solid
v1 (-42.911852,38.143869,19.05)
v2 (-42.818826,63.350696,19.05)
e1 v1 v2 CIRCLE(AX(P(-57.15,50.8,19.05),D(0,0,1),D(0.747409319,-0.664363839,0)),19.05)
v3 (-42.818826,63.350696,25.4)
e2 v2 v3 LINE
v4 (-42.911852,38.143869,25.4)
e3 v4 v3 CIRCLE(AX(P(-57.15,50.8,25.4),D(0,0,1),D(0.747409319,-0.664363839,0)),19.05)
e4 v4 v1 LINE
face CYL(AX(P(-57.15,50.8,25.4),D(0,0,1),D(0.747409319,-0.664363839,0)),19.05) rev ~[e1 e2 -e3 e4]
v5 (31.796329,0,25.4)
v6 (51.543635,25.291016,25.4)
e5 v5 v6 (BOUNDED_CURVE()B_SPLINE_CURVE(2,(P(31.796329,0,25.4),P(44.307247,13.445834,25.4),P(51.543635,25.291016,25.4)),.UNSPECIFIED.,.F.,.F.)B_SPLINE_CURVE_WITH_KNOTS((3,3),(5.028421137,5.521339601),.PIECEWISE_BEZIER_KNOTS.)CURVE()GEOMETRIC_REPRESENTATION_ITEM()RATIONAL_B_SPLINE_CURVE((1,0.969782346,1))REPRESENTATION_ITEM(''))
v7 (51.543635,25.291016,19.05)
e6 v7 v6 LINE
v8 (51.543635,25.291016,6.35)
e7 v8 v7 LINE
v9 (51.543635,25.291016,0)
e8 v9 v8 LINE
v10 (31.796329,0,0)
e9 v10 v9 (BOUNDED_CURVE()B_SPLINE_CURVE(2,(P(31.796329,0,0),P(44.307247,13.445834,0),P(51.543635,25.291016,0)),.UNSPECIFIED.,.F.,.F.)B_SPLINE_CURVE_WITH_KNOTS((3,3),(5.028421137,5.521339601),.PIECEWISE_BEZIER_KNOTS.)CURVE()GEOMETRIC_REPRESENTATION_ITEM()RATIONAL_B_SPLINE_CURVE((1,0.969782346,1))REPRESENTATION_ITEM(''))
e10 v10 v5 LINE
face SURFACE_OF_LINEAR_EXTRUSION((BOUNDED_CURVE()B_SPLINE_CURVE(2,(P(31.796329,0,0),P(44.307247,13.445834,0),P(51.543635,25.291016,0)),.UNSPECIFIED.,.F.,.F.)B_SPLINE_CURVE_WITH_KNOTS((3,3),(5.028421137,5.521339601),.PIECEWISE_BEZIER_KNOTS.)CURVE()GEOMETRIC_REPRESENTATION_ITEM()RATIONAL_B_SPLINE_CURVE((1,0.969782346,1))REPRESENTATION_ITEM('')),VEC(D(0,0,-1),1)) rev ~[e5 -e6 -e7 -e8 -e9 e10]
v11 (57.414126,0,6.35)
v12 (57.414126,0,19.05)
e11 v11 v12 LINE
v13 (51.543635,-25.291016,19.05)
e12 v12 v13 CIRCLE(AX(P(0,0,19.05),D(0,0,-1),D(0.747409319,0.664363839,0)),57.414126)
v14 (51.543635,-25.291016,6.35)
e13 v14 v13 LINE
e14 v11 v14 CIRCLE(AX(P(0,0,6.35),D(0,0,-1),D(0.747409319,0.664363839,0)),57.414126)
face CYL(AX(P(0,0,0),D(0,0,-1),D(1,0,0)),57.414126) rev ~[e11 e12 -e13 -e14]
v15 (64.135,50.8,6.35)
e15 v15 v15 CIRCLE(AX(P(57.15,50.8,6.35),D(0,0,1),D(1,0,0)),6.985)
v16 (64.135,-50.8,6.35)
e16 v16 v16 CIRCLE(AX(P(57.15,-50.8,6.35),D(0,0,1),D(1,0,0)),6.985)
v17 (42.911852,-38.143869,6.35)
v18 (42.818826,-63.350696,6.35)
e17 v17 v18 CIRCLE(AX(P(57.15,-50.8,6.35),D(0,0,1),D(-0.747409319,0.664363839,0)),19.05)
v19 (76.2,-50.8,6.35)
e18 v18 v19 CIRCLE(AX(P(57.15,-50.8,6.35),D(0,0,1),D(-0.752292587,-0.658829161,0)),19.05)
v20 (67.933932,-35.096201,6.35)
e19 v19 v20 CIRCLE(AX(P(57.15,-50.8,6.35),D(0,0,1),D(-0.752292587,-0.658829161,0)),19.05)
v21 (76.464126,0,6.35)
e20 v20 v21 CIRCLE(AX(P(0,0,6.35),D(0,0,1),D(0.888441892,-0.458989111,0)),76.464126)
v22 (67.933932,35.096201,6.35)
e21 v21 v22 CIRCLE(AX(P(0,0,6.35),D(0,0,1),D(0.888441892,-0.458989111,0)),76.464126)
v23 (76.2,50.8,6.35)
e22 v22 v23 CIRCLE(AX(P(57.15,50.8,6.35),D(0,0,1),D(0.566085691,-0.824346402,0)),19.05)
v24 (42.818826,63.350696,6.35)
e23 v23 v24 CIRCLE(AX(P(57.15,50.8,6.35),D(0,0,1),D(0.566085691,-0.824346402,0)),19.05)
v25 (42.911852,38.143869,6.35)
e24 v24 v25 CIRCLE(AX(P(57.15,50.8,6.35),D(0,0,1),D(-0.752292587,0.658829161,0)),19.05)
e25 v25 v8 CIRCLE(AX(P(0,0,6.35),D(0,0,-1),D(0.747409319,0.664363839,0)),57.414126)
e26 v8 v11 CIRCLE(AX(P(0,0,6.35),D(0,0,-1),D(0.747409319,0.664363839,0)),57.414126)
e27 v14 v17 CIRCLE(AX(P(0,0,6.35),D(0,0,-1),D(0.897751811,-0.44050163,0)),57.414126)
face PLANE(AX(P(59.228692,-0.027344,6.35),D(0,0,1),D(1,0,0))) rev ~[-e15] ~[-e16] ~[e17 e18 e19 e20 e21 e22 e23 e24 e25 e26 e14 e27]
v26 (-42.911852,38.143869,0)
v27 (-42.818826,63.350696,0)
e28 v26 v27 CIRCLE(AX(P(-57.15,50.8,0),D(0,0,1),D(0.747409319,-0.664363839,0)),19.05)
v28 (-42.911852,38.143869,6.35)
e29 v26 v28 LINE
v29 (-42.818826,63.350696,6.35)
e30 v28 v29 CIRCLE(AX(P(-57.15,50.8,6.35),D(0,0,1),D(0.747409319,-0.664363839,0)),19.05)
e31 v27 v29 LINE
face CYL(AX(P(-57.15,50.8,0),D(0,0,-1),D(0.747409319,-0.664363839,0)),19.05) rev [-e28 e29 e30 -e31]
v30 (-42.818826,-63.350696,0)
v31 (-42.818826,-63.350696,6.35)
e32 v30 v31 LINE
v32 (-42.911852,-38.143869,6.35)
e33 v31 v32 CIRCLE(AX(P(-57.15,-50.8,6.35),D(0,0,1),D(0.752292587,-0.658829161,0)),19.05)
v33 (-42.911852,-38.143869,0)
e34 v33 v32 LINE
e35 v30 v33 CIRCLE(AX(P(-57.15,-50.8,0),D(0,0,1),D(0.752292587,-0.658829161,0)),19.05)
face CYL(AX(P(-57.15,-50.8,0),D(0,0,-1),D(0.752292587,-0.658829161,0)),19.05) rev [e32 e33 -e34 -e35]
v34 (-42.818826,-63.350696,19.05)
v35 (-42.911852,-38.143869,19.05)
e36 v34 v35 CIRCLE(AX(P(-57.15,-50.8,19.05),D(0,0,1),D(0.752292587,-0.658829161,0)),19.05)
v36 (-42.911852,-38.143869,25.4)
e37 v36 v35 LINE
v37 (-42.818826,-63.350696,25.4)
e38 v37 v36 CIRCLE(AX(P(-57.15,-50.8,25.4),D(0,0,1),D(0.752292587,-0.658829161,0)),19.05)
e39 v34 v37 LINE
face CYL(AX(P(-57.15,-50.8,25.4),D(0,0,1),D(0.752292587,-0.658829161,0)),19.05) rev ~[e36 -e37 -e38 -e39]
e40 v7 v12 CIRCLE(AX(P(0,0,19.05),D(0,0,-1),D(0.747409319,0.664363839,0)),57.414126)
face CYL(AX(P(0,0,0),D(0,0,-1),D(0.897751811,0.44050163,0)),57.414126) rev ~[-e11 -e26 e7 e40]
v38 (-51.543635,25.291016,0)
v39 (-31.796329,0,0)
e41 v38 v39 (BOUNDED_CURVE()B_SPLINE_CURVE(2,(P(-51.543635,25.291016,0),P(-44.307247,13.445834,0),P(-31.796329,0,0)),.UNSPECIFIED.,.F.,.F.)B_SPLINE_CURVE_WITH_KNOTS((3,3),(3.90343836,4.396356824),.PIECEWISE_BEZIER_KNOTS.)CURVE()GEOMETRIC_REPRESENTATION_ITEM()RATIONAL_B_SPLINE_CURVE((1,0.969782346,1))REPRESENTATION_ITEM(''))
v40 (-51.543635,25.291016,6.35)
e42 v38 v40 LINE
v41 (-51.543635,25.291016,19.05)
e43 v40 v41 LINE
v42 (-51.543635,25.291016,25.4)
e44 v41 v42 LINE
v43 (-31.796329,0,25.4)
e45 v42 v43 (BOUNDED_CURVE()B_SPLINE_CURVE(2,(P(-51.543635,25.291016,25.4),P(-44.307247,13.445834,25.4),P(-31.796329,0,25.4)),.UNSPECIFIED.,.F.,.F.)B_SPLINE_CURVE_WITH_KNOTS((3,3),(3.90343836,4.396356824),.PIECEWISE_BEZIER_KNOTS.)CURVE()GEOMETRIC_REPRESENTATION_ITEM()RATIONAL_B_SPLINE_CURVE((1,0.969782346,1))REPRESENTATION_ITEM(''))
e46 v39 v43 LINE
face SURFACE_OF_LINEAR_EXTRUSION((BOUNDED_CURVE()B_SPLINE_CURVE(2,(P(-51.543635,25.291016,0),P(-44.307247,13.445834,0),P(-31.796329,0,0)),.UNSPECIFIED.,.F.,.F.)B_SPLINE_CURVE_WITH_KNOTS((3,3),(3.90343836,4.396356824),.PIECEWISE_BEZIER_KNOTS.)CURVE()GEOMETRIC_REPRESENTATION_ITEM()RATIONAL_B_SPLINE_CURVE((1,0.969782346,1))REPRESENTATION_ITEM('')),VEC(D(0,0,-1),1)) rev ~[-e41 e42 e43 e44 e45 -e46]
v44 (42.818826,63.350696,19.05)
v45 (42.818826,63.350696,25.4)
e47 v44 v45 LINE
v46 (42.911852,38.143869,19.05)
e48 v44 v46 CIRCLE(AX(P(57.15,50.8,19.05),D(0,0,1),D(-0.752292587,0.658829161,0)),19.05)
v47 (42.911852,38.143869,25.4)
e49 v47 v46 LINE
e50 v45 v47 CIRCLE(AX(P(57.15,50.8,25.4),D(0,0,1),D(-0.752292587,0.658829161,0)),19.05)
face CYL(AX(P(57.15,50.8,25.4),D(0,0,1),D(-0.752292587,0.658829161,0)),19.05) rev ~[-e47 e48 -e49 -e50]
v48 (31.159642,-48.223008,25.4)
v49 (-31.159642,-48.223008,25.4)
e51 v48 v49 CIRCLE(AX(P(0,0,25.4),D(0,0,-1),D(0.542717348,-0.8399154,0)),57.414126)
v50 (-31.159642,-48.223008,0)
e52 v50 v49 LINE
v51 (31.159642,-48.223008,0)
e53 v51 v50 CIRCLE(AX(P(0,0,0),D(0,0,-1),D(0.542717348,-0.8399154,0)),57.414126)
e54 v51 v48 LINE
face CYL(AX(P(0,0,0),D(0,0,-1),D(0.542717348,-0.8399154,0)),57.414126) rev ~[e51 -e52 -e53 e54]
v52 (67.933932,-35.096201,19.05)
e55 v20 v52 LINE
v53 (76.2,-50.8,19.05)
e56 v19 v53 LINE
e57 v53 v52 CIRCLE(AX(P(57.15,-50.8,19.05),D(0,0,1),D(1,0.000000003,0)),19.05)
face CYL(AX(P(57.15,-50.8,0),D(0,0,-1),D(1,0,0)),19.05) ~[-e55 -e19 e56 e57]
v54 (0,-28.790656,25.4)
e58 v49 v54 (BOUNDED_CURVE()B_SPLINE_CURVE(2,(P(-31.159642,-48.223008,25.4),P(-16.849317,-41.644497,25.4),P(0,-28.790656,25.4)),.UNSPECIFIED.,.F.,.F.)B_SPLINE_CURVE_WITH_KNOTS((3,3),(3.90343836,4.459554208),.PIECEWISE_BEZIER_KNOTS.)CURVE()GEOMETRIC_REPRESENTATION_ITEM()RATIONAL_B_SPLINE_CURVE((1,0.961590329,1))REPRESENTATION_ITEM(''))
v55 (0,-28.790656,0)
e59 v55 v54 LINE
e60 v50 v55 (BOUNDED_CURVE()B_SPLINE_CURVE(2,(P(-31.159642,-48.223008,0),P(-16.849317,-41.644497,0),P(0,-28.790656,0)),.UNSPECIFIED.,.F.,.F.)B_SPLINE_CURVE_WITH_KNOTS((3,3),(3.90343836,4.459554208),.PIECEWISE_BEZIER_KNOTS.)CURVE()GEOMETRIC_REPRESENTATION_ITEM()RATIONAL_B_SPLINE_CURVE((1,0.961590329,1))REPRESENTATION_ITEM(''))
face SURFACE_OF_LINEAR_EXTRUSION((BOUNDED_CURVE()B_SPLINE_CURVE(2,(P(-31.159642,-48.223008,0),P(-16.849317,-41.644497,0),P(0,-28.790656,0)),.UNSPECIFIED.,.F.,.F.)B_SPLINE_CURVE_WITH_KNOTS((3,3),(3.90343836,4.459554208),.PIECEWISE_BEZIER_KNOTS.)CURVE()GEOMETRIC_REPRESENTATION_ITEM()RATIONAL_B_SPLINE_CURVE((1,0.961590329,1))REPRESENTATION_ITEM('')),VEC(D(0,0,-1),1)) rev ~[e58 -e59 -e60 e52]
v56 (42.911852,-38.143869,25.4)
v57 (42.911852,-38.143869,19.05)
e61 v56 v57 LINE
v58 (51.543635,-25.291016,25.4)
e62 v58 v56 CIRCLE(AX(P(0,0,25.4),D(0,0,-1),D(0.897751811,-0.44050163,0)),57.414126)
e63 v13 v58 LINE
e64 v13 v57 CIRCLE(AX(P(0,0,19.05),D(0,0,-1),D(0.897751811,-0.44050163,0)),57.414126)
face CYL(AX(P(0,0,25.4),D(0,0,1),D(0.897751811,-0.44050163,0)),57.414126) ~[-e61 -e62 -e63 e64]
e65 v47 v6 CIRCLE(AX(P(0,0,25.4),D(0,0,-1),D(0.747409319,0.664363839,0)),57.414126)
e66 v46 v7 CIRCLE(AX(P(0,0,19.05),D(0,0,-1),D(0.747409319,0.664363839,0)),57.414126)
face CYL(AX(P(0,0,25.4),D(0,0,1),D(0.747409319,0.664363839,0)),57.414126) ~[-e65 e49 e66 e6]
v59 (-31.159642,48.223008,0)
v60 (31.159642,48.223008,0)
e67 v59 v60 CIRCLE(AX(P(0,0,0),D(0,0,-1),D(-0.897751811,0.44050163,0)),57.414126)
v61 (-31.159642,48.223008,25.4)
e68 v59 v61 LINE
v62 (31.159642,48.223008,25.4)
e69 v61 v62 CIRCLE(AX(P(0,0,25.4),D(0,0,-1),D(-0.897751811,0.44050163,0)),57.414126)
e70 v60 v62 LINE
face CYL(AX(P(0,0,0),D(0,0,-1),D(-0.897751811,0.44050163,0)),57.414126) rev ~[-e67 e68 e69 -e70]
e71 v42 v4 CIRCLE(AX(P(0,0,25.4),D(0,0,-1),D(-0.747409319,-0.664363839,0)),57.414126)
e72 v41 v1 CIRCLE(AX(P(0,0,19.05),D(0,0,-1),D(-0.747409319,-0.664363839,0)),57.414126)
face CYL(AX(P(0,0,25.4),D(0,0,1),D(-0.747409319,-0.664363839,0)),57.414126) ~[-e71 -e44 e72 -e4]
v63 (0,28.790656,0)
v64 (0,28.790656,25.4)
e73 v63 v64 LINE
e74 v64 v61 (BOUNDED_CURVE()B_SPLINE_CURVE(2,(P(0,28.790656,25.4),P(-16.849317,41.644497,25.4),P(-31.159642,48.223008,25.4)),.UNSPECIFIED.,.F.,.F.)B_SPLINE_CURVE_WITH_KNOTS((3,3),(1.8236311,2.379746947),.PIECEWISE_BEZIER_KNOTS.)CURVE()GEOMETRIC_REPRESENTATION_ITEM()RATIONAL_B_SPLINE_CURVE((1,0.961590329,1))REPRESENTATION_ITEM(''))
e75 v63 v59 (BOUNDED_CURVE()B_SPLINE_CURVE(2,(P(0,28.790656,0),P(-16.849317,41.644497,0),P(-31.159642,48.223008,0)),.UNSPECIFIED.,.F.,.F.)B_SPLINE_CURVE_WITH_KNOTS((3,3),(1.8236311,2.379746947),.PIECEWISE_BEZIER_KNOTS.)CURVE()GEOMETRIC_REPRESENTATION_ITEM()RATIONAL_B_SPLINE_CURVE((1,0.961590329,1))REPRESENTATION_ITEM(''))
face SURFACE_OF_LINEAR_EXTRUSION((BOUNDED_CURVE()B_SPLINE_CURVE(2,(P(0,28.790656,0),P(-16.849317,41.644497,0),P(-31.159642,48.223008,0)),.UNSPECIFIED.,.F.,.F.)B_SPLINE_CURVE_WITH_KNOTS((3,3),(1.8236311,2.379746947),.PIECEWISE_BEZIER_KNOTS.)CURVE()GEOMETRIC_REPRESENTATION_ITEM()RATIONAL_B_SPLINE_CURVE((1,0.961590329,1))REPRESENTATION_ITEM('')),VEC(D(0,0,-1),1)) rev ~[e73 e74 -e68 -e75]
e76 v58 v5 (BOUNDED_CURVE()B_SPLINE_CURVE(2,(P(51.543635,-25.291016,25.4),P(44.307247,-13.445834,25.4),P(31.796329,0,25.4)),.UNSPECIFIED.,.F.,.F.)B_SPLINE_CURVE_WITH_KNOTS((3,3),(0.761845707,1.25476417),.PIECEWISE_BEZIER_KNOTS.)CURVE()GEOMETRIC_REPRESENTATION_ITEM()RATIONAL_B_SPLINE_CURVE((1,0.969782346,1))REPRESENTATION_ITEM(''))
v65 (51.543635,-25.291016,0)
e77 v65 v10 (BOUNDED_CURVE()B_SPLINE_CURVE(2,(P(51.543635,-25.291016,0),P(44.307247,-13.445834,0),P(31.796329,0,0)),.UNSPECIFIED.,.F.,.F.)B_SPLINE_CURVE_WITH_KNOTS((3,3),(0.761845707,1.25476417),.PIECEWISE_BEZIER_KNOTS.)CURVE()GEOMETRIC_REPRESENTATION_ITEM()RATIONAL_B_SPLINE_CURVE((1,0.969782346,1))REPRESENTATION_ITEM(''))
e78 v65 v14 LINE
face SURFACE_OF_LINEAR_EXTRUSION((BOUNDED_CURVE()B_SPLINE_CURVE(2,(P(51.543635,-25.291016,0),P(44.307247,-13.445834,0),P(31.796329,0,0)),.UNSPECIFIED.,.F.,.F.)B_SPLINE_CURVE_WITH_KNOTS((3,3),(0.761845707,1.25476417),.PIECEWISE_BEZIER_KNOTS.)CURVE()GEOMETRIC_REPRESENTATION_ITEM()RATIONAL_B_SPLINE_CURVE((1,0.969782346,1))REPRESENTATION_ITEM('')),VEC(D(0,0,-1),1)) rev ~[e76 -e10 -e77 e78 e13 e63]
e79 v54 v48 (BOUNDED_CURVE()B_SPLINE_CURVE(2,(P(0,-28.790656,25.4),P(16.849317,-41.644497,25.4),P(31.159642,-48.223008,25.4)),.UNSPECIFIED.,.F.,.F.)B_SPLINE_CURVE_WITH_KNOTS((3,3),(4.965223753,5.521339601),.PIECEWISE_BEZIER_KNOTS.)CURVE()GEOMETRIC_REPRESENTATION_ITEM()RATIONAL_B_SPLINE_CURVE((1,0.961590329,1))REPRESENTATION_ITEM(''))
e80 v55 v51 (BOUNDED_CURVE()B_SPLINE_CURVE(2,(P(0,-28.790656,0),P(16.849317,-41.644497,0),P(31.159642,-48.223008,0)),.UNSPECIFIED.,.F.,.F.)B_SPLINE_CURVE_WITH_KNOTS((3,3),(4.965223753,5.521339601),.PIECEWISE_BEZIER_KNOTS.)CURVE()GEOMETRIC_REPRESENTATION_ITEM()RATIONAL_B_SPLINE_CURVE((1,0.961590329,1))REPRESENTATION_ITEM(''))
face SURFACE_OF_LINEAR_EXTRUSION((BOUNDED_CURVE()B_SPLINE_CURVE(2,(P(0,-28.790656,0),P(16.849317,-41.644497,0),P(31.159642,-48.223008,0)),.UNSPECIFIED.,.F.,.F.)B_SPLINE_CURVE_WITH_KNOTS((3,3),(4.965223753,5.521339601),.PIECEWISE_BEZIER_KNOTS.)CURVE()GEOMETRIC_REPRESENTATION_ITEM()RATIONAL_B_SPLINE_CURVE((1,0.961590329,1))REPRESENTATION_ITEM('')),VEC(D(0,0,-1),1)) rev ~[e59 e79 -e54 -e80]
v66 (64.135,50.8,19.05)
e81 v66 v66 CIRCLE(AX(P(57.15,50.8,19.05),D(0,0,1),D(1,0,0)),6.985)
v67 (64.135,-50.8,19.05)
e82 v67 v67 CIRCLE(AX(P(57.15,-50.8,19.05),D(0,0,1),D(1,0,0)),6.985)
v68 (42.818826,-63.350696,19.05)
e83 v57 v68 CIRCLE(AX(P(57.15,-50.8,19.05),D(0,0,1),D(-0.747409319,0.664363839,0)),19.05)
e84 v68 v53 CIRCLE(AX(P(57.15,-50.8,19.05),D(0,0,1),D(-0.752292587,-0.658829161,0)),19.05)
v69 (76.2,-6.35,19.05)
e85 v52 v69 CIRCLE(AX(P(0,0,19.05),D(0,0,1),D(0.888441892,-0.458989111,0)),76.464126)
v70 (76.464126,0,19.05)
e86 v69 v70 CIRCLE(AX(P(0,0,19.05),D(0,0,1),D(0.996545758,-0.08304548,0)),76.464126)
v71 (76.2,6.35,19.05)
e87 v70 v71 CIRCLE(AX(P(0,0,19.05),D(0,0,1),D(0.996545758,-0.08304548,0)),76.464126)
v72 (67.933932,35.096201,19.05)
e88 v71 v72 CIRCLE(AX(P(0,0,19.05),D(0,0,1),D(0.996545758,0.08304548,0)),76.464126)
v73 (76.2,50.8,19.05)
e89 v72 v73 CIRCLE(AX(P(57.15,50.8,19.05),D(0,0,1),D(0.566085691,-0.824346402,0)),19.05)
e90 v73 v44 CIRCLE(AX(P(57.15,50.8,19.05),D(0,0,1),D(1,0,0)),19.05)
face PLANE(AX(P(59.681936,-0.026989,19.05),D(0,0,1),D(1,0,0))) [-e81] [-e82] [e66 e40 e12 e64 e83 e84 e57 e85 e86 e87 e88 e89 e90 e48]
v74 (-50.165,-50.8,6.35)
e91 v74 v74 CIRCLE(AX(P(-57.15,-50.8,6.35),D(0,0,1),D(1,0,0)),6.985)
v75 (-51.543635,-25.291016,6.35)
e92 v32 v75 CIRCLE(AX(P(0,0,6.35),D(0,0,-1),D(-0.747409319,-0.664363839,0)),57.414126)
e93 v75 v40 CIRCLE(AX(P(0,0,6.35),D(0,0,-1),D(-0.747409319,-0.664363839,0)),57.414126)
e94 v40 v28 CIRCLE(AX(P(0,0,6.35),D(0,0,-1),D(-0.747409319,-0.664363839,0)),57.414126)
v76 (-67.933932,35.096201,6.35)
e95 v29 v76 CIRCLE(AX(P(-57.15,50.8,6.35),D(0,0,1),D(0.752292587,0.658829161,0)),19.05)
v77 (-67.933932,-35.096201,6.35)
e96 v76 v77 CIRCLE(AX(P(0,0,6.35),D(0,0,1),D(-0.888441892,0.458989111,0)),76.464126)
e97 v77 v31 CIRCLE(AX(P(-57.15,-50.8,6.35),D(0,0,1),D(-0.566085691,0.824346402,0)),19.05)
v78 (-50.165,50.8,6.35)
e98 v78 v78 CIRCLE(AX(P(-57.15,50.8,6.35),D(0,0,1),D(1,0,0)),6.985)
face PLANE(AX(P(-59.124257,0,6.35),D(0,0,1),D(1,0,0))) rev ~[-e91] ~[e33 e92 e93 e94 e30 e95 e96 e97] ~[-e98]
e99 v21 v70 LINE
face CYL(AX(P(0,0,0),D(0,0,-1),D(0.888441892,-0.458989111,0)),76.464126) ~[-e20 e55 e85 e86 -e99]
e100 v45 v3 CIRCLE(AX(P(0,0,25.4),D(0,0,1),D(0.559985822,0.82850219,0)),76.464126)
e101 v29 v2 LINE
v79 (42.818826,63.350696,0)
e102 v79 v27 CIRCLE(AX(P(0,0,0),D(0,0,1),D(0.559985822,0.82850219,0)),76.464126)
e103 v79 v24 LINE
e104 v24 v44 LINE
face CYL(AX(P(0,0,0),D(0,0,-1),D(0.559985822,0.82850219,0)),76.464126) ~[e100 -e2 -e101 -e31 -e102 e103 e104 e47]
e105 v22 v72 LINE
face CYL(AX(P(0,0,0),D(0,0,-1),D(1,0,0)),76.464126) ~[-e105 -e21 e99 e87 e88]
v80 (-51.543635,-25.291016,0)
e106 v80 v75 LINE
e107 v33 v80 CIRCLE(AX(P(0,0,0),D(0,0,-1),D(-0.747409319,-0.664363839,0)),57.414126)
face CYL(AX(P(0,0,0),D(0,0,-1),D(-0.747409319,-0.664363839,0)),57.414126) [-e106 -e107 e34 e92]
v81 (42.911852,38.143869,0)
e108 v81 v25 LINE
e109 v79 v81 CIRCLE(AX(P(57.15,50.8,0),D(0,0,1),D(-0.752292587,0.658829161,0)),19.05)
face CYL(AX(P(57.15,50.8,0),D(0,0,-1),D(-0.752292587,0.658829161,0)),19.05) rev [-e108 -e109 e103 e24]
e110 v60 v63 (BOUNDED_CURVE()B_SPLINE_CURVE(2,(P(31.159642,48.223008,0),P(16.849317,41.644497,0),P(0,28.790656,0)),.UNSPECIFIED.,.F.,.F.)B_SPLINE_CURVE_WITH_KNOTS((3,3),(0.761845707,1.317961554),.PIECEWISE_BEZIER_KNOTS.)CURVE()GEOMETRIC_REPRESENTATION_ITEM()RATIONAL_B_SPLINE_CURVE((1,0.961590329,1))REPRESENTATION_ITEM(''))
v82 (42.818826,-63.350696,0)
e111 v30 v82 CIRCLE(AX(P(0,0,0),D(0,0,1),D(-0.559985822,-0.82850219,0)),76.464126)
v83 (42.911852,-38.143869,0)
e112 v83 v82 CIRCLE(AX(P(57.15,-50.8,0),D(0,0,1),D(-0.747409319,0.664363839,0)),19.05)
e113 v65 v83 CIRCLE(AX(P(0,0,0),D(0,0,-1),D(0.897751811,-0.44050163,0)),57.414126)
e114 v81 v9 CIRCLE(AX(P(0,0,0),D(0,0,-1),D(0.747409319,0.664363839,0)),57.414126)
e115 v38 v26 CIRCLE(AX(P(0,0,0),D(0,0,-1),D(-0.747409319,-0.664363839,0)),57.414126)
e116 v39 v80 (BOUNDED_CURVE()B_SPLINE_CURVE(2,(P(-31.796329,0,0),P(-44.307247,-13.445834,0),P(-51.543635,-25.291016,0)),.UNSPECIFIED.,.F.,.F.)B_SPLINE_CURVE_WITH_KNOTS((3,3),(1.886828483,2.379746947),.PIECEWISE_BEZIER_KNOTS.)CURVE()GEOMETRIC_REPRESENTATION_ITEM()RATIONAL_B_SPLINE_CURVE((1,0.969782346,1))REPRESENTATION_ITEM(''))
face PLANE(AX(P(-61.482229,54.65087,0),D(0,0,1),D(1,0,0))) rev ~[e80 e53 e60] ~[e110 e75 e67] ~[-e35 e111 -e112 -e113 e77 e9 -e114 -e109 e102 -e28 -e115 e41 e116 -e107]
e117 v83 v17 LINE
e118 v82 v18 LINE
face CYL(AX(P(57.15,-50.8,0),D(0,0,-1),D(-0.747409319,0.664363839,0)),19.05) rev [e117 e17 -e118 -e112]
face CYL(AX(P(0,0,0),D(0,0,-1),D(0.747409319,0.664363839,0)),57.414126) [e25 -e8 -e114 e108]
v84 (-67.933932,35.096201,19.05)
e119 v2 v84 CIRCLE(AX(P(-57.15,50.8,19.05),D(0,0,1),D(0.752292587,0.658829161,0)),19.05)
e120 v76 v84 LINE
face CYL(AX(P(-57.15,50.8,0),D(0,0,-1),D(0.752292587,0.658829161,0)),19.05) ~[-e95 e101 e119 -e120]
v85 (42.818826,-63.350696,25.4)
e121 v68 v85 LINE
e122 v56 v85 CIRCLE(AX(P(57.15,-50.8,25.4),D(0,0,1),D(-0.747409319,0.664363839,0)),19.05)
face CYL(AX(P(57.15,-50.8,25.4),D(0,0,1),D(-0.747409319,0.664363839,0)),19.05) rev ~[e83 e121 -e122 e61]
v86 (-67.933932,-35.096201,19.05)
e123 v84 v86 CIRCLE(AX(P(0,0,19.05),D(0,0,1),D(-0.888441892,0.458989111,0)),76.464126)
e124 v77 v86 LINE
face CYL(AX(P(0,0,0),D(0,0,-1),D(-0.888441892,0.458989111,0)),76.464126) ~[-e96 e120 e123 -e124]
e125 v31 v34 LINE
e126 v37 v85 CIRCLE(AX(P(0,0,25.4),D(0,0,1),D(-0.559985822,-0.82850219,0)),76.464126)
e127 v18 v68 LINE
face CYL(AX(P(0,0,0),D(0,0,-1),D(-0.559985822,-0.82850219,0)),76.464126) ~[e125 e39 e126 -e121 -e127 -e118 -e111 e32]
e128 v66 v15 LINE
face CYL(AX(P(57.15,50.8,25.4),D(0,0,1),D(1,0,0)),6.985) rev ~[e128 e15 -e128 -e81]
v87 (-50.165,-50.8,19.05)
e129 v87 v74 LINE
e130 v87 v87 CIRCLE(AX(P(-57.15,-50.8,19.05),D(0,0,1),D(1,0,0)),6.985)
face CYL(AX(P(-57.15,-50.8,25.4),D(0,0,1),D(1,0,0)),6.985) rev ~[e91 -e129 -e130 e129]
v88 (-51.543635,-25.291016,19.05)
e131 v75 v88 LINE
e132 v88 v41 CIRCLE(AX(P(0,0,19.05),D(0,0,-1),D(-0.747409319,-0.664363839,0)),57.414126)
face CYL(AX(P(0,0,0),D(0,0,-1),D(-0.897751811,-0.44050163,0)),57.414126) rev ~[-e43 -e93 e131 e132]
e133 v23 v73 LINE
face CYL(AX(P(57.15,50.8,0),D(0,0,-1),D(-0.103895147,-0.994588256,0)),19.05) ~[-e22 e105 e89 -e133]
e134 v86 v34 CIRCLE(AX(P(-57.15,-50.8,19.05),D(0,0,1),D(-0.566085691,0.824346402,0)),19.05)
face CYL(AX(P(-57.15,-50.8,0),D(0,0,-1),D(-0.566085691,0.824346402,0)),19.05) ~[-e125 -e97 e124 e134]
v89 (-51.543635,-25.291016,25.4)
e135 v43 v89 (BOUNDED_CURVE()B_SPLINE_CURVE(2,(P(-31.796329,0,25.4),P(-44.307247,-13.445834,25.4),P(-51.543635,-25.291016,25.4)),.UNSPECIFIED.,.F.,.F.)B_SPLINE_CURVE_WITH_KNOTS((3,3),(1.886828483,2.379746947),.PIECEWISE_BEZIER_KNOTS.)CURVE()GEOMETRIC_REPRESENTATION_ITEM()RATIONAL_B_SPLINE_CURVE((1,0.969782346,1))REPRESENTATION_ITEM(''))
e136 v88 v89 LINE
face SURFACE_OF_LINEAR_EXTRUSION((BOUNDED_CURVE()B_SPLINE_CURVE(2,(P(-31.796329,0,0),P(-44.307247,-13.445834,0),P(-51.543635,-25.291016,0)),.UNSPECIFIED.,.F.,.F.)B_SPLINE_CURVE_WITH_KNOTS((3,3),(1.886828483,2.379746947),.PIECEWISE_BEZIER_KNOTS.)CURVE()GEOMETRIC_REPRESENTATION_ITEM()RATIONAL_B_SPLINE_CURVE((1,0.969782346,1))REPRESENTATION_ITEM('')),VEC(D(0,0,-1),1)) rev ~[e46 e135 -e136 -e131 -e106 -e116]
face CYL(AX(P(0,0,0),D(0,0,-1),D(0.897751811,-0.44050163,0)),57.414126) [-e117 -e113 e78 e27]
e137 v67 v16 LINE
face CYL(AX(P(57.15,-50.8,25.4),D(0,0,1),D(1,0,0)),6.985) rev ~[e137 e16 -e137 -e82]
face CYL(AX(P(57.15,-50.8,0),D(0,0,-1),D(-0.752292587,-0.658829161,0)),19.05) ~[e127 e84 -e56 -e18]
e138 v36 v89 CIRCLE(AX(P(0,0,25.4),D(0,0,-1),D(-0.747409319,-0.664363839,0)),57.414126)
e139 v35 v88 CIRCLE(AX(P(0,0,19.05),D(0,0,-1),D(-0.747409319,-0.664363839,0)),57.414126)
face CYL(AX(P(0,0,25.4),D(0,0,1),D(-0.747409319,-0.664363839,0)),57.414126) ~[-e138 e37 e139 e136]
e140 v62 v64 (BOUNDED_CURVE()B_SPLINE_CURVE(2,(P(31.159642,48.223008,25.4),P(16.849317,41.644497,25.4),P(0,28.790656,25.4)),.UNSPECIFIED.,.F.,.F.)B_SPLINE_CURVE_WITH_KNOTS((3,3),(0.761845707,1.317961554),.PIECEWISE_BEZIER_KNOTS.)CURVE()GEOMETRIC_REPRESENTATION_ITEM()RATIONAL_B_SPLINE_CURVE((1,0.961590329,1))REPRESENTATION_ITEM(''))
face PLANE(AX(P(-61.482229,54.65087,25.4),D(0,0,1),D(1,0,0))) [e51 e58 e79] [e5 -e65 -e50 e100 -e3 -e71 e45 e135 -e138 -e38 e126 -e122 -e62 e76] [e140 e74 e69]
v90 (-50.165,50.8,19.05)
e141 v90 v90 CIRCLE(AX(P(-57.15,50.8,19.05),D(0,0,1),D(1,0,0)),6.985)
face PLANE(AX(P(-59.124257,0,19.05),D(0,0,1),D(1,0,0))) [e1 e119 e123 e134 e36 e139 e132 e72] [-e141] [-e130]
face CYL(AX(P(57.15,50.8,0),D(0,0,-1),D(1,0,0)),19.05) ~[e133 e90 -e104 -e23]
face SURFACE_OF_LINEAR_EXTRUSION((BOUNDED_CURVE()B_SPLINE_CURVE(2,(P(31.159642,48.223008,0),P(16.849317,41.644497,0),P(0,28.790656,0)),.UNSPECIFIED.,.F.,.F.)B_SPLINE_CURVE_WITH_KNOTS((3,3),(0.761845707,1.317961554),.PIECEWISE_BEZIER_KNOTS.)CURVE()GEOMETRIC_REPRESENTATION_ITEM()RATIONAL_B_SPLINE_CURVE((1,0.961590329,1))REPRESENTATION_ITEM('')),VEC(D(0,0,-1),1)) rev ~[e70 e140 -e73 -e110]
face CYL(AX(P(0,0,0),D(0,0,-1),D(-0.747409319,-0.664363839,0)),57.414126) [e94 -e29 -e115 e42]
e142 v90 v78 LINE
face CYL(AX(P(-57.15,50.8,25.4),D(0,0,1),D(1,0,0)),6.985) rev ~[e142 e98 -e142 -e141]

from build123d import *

# Parameters (mm, degrees)
F1_DEPTH = 25.4
F2_R     = 6.985
F3_DEPTH = 25.4
F4_R     = 6.985
F5_DEPTH = 6.35
F7_DEPTH = 6.35


with BuildPart() as f1:
    # F0 (on Top) → F1 (new body)
    with BuildSketch(Plane.XY):
        with BuildLine():
            ThreePointArc((-57.1499998878, 50.8000001262), (-50.3767956165, 57.5233949226), (-42.8188262114, 63.3506955122))
            ThreePointArc((-42.8188262114, 63.3506955122), (-71.3881475209, 63.4561311297), (-67.9339324093, 35.0962010395))
            ThreePointArc((-67.9339324093, 35.0962010395), (-63.0329267619, 43.2852474156), (-57.1499998878, 50.8000001262))
        make_face()
        with BuildLine():
            ThreePointArc((38.1017176106, 51.0558085491), (39.3641043227, 57.6238123477), (42.8188262114, 63.3506955122))
            ThreePointArc((42.8188262114, 63.3506955122), (0, 76.4641255753), (-42.8188262114, 63.3506955122))
            ThreePointArc((-42.8188262114, 63.3506955122), (-39.3641043227, 57.6238123477), (-38.1017176106, 51.0558085491))
            add(Edge.make_bspline(
                [(-31.1596419842, 48.223008274), (-34.8147724634, 49.9032857332), (-38.1017176106, 51.0558085491)],
                knots=[2.3797469471, 2.3797469471, 2.3797469471, 2.5253095942, 2.5253095942, 2.5253095942], degree=2, weights=[1, 0.9973526084, 1]))
            ThreePointArc((-31.1596419842, 48.223008274), (0, 57.4141255753), (31.1596419842, 48.223008274))
            add(Edge.make_bspline(
                [(38.1017176106, 51.0558085491), (34.8147724634, 49.9032857332), (31.1596419842, 48.223008274)],
                knots=[0.6162830594, 0.6162830594, 0.6162830594, 0.7618457065, 0.7618457065, 0.7618457065], degree=2, weights=[1, 0.9973526084, 1]))
        make_face()
        with BuildLine():
            ThreePointArc((67.9339324093, 35.0962010395), (74.0072894084, 41.9267653135), (76.2, 50.8))
            ThreePointArc((76.2, 50.8), (63.8542389324, 68.6313117952), (42.8188262114, 63.3506955122))
            ThreePointArc((42.8188262114, 63.3506955122), (50.37679568, 57.523394867), (57.15, 50.8))
            ThreePointArc((57.15, 50.8), (63.0329268097, 43.285247346), (67.9339324093, 35.0962010395))
        make_face()
        with BuildLine():
            ThreePointArc((55.1707974514, 31.8530937282), (61.8415086314, 32.3367325004), (67.9339324093, 35.0962010395))
            ThreePointArc((67.9339324093, 35.0962010395), (63.0329268097, 43.285247346), (57.15, 50.8))
            add(Edge.make_bspline(
                [(55.1707974514, 31.8530937282), (61.8495524076, 45.5130035415), (57.15, 50.8)],
                knots=[5.6669022478, 5.6669022478, 5.6669022478, 6.2831853072, 6.2831853072, 6.2831853072], degree=2, weights=[1, 0.9528988673, 1]))
        make_face()
        with BuildLine():
            ThreePointArc((57.15, 50.8), (50.37679568, 57.523394867), (42.8188262114, 63.3506955122))
            ThreePointArc((42.8188262114, 63.3506955122), (39.3641043227, 57.6238123477), (38.1017176106, 51.0558085491))
            add(Edge.make_bspline(
                [(57.15, 50.8), (52.4504475924, 56.0869964585), (38.1017176106, 51.0558085491)],
                knots=[0, 0, 0, 0.6162830594, 0.6162830594, 0.6162830594], degree=2, weights=[1, 0.9528988673, 1]))
        make_face()
        with BuildLine():
            ThreePointArc((42.9118518288, 38.1438696019), (39.2984970742, 44.1497110372), (38.1017176106, 51.0558085491))
            add(Edge.make_bspline(
                [(38.1017176106, 51.0558085491), (34.8147724634, 49.9032857332), (31.1596419842, 48.223008274)],
                knots=[0.6162830594, 0.6162830594, 0.6162830594, 0.7618457065, 0.7618457065, 0.7618457065], degree=2, weights=[1, 0.9973526084, 1]))
            ThreePointArc((31.1596419842, 48.223008274), (37.3770492149, 43.5813951999), (42.9118518288, 38.1438696019))
        make_face()
        with BuildLine():
            ThreePointArc((-38.1017176106, 51.0558085491), (-39.3641043227, 57.6238123477), (-42.8188262114, 63.3506955122))
            ThreePointArc((-42.8188262114, 63.3506955122), (-50.3767956165, 57.5233949226), (-57.1499998878, 50.8000001262))
            add(Edge.make_bspline(
                [(-38.1017176106, 51.0558085491), (-52.4504474039, 56.0869963924), (-57.1499998878, 50.8000001262)],
                knots=[2.5253095942, 2.5253095942, 2.5253095942, 3.141592646, 3.141592646, 3.141592646], degree=2, weights=[1, 0.9528988685, 1]))
        make_face()
        with BuildLine():
            add(Edge.make_bspline(
                [(-31.1596419842, 48.223008274), (-34.8147724634, 49.9032857332), (-38.1017176106, 51.0558085491)],
                knots=[2.3797469471, 2.3797469471, 2.3797469471, 2.5253095942, 2.5253095942, 2.5253095942], degree=2, weights=[1, 0.9973526084, 1]))
            ThreePointArc((-38.1017176106, 51.0558085491), (-38.1004294075, 50.9279071577), (-38.1, 50.8))
            ThreePointArc((-38.1, 50.8), (-39.34355171, 44.030000052), (-42.9118529445, 38.1438683467))
            ThreePointArc((-42.9118529445, 38.1438683467), (-37.3770498523, 43.5813946532), (-31.1596419842, 48.223008274))
        make_face()
        with BuildLine():
            ThreePointArc((-38.1, 50.8), (-38.1004294075, 50.9279071577), (-38.1017176106, 51.0558085491))
            add(Edge.make_bspline(
                [(-38.1017176106, 51.0558085491), (-52.4504474039, 56.0869963924), (-57.1499998878, 50.8000001262)],
                knots=[2.5253095942, 2.5253095942, 2.5253095942, 3.141592646, 3.141592646, 3.141592646], degree=2, weights=[1, 0.9528988685, 1]))
            add(Edge.make_bspline(
                [(-57.1499998878, 50.8000001262), (-61.8495524953, 45.513003721), (-55.1707974514, 31.8530937282)],
                knots=[3.141592646, 3.141592646, 3.141592646, 3.757875713, 3.757875713, 3.757875713], degree=2, weights=[1, 0.9528988662, 1]))
            ThreePointArc((-55.1707974514, 31.8530937282), (-48.4526401494, 33.8513000018), (-42.9118529445, 38.1438683467))
            ThreePointArc((-42.9118529445, 38.1438683467), (-39.34355171, 44.030000052), (-38.1, 50.8))
        make_face()
        with BuildLine():
            ThreePointArc((-57.1499998878, 50.8000001262), (-63.0329267619, 43.2852474156), (-67.9339324093, 35.0962010395))
            ThreePointArc((-67.9339324093, 35.0962010395), (-61.8415086314, 32.3367325004), (-55.1707974514, 31.8530937282))
            add(Edge.make_bspline(
                [(-57.1499998878, 50.8000001262), (-61.8495524953, 45.513003721), (-55.1707974514, 31.8530937282)],
                knots=[3.141592646, 3.141592646, 3.141592646, 3.757875713, 3.757875713, 3.757875713], degree=2, weights=[1, 0.9528988662, 1]))
        make_face()
        with BuildLine():
            ThreePointArc((-42.9118529445, 38.1438683467), (-48.4526401494, 33.8513000018), (-55.1707974514, 31.8530937282))
            add(Edge.make_bspline(
                [(-55.1707974514, 31.8530937282), (-53.6408570859, 28.7239405328), (-51.5436352082, 25.291015897)],
                knots=[3.757875713, 3.757875713, 3.757875713, 3.9034383601, 3.9034383601, 3.9034383601], degree=2, weights=[1, 0.9973526084, 1]))
            ThreePointArc((-51.5436352082, 25.291015897), (-47.6629705806, 32.0097336917), (-42.9118529445, 38.1438683467))
        make_face()
        with BuildLine():
            ThreePointArc((-55.1707974514, 31.8530937282), (-61.8415086314, 32.3367325004), (-67.9339324093, 35.0962010395))
            ThreePointArc((-67.9339324093, 35.0962010395), (-76.4641255753, 0), (-67.9339324093, -35.0962010395))
            ThreePointArc((-67.9339324093, -35.0962010395), (-61.8415086314, -32.3367325004), (-55.1707974514, -31.8530937282))
            add(Edge.make_bspline(
                [(-51.5436352082, -25.291015897), (-53.6408570859, -28.7239405328), (-55.1707974514, -31.8530937282)],
                knots=[2.3797469471, 2.3797469471, 2.3797469471, 2.5253095942, 2.5253095942, 2.5253095942], degree=2, weights=[1, 0.9973526084, 1]))
            ThreePointArc((-51.5436352082, -25.291015897), (-57.4141255753, 0), (-51.5436352082, 25.291015897))
            add(Edge.make_bspline(
                [(-55.1707974514, 31.8530937282), (-53.6408570859, 28.7239405328), (-51.5436352082, 25.291015897)],
                knots=[3.757875713, 3.757875713, 3.757875713, 3.9034383601, 3.9034383601, 3.9034383601], degree=2, weights=[1, 0.9973526084, 1]))
        make_face()
        with BuildLine():
            ThreePointArc((-42.9118518976, -38.1438695245), (-48.4526394484, -33.8513003615), (-55.1707974514, -31.8530937282))
            add(Edge.make_bspline(
                [(-55.1707974514, -31.8530937282), (-61.8495523114, -45.5130033448), (-57.1500001229, -50.7999998618)],
                knots=[2.5253095942, 2.5253095942, 2.5253095942, 3.1415926453, 3.1415926453, 3.1415926453], degree=2, weights=[1, 0.9528988686, 1]))
            add(Edge.make_bspline(
                [(-57.1500001229, -50.7999998618), (-52.450447799, -56.0869965309), (-38.1017176106, -51.0558085491)],
                knots=[3.1415926453, 3.1415926453, 3.1415926453, 3.757875713, 3.757875713, 3.757875713], degree=2, weights=[1, 0.9528988661, 1]))
            ThreePointArc((-38.1017176106, -51.0558085491), (-38.1004294075, -50.9279071577), (-38.1, -50.8))
            ThreePointArc((-38.1, -50.8), (-39.34355143, -44.0300007885), (-42.9118518976, -38.1438695245))
        make_face()
        with BuildLine():
            ThreePointArc((-55.1707974514, -31.8530937282), (-61.8415086314, -32.3367325004), (-67.9339324093, -35.0962010395))
            ThreePointArc((-67.9339324093, -35.0962010395), (-63.032926862, -43.2852472698), (-57.1500001229, -50.7999998618))
            add(Edge.make_bspline(
                [(-55.1707974514, -31.8530937282), (-61.8495523114, -45.5130033448), (-57.1500001229, -50.7999998618)],
                knots=[2.5253095942, 2.5253095942, 2.5253095942, 3.1415926453, 3.1415926453, 3.1415926453], degree=2, weights=[1, 0.9528988686, 1]))
        make_face()
        with BuildLine():
            ThreePointArc((-57.1500001229, -50.7999998618), (-63.032926862, -43.2852472698), (-67.9339324093, -35.0962010395))
            ThreePointArc((-67.9339324093, -35.0962010395), (-71.3881475209, -63.4561311297), (-42.8188262114, -63.3506955122))
            ThreePointArc((-42.8188262114, -63.3506955122), (-50.3767957495, -57.523394806), (-57.1500001229, -50.7999998618))
        make_face()
        with BuildLine():
            ThreePointArc((-57.1500001229, -50.7999998618), (-50.3767957495, -57.523394806), (-42.8188262114, -63.3506955122))
            ThreePointArc((-42.8188262114, -63.3506955122), (-39.3641043227, -57.6238123477), (-38.1017176106, -51.0558085491))
            add(Edge.make_bspline(
                [(-57.1500001229, -50.7999998618), (-52.450447799, -56.0869965309), (-38.1017176106, -51.0558085491)],
                knots=[3.1415926453, 3.1415926453, 3.1415926453, 3.757875713, 3.757875713, 3.757875713], degree=2, weights=[1, 0.9528988661, 1]))
        make_face()
        with BuildLine():
            ThreePointArc((76.2, -50.8), (74.0072894084, -41.9267653135), (67.9339324093, -35.0962010395))
            ThreePointArc((67.9339324093, -35.0962010395), (63.0329268097, -43.285247346), (57.15, -50.8))
            ThreePointArc((57.15, -50.8), (50.37679568, -57.523394867), (42.8188262114, -63.3506955122))
            ThreePointArc((42.8188262114, -63.3506955122), (63.8542389324, -68.6313117952), (76.2, -50.8))
        make_face()
        with BuildLine():
            ThreePointArc((42.8188262114, -63.3506955122), (50.37679568, -57.523394867), (57.15, -50.8))
            add(Edge.make_bspline(
                [(38.1017176106, -51.0558085491), (52.4504475924, -56.0869964585), (57.15, -50.8)],
                knots=[5.6669022478, 5.6669022478, 5.6669022478, 6.2831853072, 6.2831853072, 6.2831853072], degree=2, weights=[1, 0.9528988673, 1]))
            ThreePointArc((38.1017176106, -51.0558085491), (39.3641043227, -57.6238123477), (42.8188262114, -63.3506955122))
        make_face()
        with BuildLine():
            add(Edge.make_bspline(
                [(57.15, -50.8), (61.8495524076, -45.5130035415), (55.1707974514, -31.8530937282)],
                knots=[0, 0, 0, 0.6162830594, 0.6162830594, 0.6162830594], degree=2, weights=[1, 0.9528988673, 1]))
            ThreePointArc((55.1707974514, -31.8530937282), (48.4526401707, -33.8512999909), (42.9118529763, -38.1438683109))
            ThreePointArc((42.9118529763, -38.1438683109), (39.2984973756, -44.1497102279), (38.1017176106, -51.0558085491))
            add(Edge.make_bspline(
                [(38.1017176106, -51.0558085491), (52.4504475924, -56.0869964585), (57.15, -50.8)],
                knots=[5.6669022478, 5.6669022478, 5.6669022478, 6.2831853072, 6.2831853072, 6.2831853072], degree=2, weights=[1, 0.9528988673, 1]))
        make_face()
        with BuildLine():
            ThreePointArc((42.9118529763, -38.1438683109), (48.4526401707, -33.8512999909), (55.1707974514, -31.8530937282))
            add(Edge.make_bspline(
                [(55.1707974514, -31.8530937282), (53.6408570859, -28.7239405328), (51.5436352082, -25.291015897)],
                knots=[0.6162830594, 0.6162830594, 0.6162830594, 0.7618457065, 0.7618457065, 0.7618457065], degree=2, weights=[1, 0.9973526084, 1]))
            ThreePointArc((51.5436352082, -25.291015897), (47.6629705939, -32.0097336719), (42.9118529763, -38.1438683109))
        make_face()
        with BuildLine():
            ThreePointArc((76.4641255753, 0), (74.3009799349, 18.0589833799), (67.9339324093, 35.0962010395))
            ThreePointArc((67.9339324093, 35.0962010395), (61.8415086314, 32.3367325004), (55.1707974514, 31.8530937282))
            add(Edge.make_bspline(
                [(51.5436352082, 25.291015897), (53.6408570859, 28.7239405328), (55.1707974514, 31.8530937282)],
                knots=[5.5213396007, 5.5213396007, 5.5213396007, 5.6669022478, 5.6669022478, 5.6669022478], degree=2, weights=[1, 0.9973526084, 1]))
            ThreePointArc((51.5436352082, 25.291015897), (55.9272498878, 12.9817000259), (57.4141255753, 0))
            ThreePointArc((57.4141255753, 0), (55.9272498878, -12.9817000259), (51.5436352082, -25.291015897))
            add(Edge.make_bspline(
                [(55.1707974514, -31.8530937282), (53.6408570859, -28.7239405328), (51.5436352082, -25.291015897)],
                knots=[0.6162830594, 0.6162830594, 0.6162830594, 0.7618457065, 0.7618457065, 0.7618457065], degree=2, weights=[1, 0.9973526084, 1]))
            ThreePointArc((55.1707974514, -31.8530937282), (61.8415086314, -32.3367325004), (67.9339324093, -35.0962010395))
            ThreePointArc((67.9339324093, -35.0962010395), (74.3009799349, -18.0589833799), (76.4641255753, 0))
        make_face()
        with BuildLine():
            ThreePointArc((57.15, -50.8), (63.0329268097, -43.285247346), (67.9339324093, -35.0962010395))
            ThreePointArc((67.9339324093, -35.0962010395), (61.8415086314, -32.3367325004), (55.1707974514, -31.8530937282))
            add(Edge.make_bspline(
                [(57.15, -50.8), (61.8495524076, -45.5130035415), (55.1707974514, -31.8530937282)],
                knots=[0, 0, 0, 0.6162830594, 0.6162830594, 0.6162830594], degree=2, weights=[1, 0.9528988673, 1]))
        make_face()
        with BuildLine():
            add(Edge.make_bspline(
                [(57.15, 50.8), (52.4504475924, 56.0869964585), (38.1017176106, 51.0558085491)],
                knots=[0, 0, 0, 0.6162830594, 0.6162830594, 0.6162830594], degree=2, weights=[1, 0.9528988673, 1]))
            ThreePointArc((38.1017176106, 51.0558085491), (39.2984970742, 44.1497110372), (42.9118518288, 38.1438696019))
            ThreePointArc((42.9118518288, 38.1438696019), (48.4526394023, 33.8513003852), (55.1707974514, 31.8530937282))
            add(Edge.make_bspline(
                [(55.1707974514, 31.8530937282), (61.8495524076, 45.5130035415), (57.15, 50.8)],
                knots=[5.6669022478, 5.6669022478, 5.6669022478, 6.2831853072, 6.2831853072, 6.2831853072], degree=2, weights=[1, 0.9528988673, 1]))
        make_face()
        with BuildLine():
            add(Edge.make_bspline(
                [(51.5436352082, 25.291015897), (53.6408570859, 28.7239405328), (55.1707974514, 31.8530937282)],
                knots=[5.5213396007, 5.5213396007, 5.5213396007, 5.6669022478, 5.6669022478, 5.6669022478], degree=2, weights=[1, 0.9973526084, 1]))
            ThreePointArc((55.1707974514, 31.8530937282), (48.4526394023, 33.8513003852), (42.9118518288, 38.1438696019))
            ThreePointArc((42.9118518288, 38.1438696019), (47.6629701124, 32.0097343888), (51.5436352082, 25.291015897))
        make_face()
        with BuildLine():
            ThreePointArc((-38.1017176106, -51.0558085491), (-39.3641043227, -57.6238123477), (-42.8188262114, -63.3506955122))
            ThreePointArc((-42.8188262114, -63.3506955122), (0, -76.4641255753), (42.8188262114, -63.3506955122))
            ThreePointArc((42.8188262114, -63.3506955122), (39.3641043227, -57.6238123477), (38.1017176106, -51.0558085491))
            add(Edge.make_bspline(
                [(31.1596419842, -48.223008274), (34.8147724634, -49.9032857332), (38.1017176106, -51.0558085491)],
                knots=[5.5213396007, 5.5213396007, 5.5213396007, 5.6669022478, 5.6669022478, 5.6669022478], degree=2, weights=[1, 0.9973526084, 1]))
            ThreePointArc((31.1596419842, -48.223008274), (0, -57.4141255753), (-31.1596419842, -48.223008274))
            add(Edge.make_bspline(
                [(-38.1017176106, -51.0558085491), (-34.8147724634, -49.9032857332), (-31.1596419842, -48.223008274)],
                knots=[3.757875713, 3.757875713, 3.757875713, 3.9034383601, 3.9034383601, 3.9034383601], degree=2, weights=[1, 0.9973526084, 1]))
        make_face()
        with BuildLine():
            ThreePointArc((38.1017176106, -51.0558085491), (39.2984973756, -44.1497102279), (42.9118529763, -38.1438683109))
            ThreePointArc((42.9118529763, -38.1438683109), (37.3770498705, -43.5813946376), (31.1596419842, -48.223008274))
            add(Edge.make_bspline(
                [(31.1596419842, -48.223008274), (34.8147724634, -49.9032857332), (38.1017176106, -51.0558085491)],
                knots=[5.5213396007, 5.5213396007, 5.5213396007, 5.6669022478, 5.6669022478, 5.6669022478], degree=2, weights=[1, 0.9973526084, 1]))
        make_face()
        with BuildLine():
            ThreePointArc((-31.1596419842, -48.223008274), (-37.3770492542, -43.5813951661), (-42.9118518976, -38.1438695245))
            ThreePointArc((-42.9118518976, -38.1438695245), (-39.34355143, -44.0300007885), (-38.1, -50.8))
            ThreePointArc((-38.1, -50.8), (-38.1004294075, -50.9279071577), (-38.1017176106, -51.0558085491))
            add(Edge.make_bspline(
                [(-38.1017176106, -51.0558085491), (-34.8147724634, -49.9032857332), (-31.1596419842, -48.223008274)],
                knots=[3.757875713, 3.757875713, 3.757875713, 3.9034383601, 3.9034383601, 3.9034383601], degree=2, weights=[1, 0.9973526084, 1]))
        make_face()
        with BuildLine():
            add(Edge.make_bspline(
                [(-51.5436352082, -25.291015897), (-53.6408570859, -28.7239405328), (-55.1707974514, -31.8530937282)],
                knots=[2.3797469471, 2.3797469471, 2.3797469471, 2.5253095942, 2.5253095942, 2.5253095942], degree=2, weights=[1, 0.9973526084, 1]))
            ThreePointArc((-55.1707974514, -31.8530937282), (-48.4526394484, -33.8513003615), (-42.9118518976, -38.1438695245))
            ThreePointArc((-42.9118518976, -38.1438695245), (-47.6629701413, -32.0097343458), (-51.5436352082, -25.291015897))
        make_face()
        with BuildLine():
            add(Edge.make_bspline(
                [(0, 28.7906564504), (-17.2570551039, 15.6257643854), (-31.7963289723, 0)],
                knots=[1.3179615541, 1.3179615541, 1.3179615541, 1.8868284832, 1.8868284832, 1.8868284832], degree=2, weights=[1, 0.9598207843, 1]))
            add(Edge.make_bspline(
                [(0, 28.7906564504), (-16.8493165476, 41.6444969454), (-31.1596419842, 48.223008274)],
                knots=[1.8236310995, 1.8236310995, 1.8236310995, 2.3797469471, 2.3797469471, 2.3797469471], degree=2, weights=[1, 0.9615903293, 1]))
            ThreePointArc((-31.1596419842, 48.223008274), (-37.3770498523, 43.5813946532), (-42.9118529445, 38.1438683467))
            ThreePointArc((-42.9118529445, 38.1438683467), (-47.6629705806, 32.0097336917), (-51.5436352082, 25.291015897))
            add(Edge.make_bspline(
                [(-51.5436352082, 25.291015897), (-44.3072469413, 13.4458335537), (-31.7963289723, 0)],
                knots=[3.9034383601, 3.9034383601, 3.9034383601, 4.3963568239, 4.3963568239, 4.3963568239], degree=2, weights=[1, 0.9697823463, 1]))
        make_face()
        with BuildLine():
            add(Edge.make_bspline(
                [(31.7963289723, 0), (17.2570551039, 15.6257643854), (0, 28.7906564504)],
                knots=[1.2547641704, 1.2547641704, 1.2547641704, 1.8236310995, 1.8236310995, 1.8236310995], degree=2, weights=[1, 0.9598207843, 1]))
            add(Edge.make_bspline(
                [(0, 28.7906564504), (-17.2570551039, 15.6257643854), (-31.7963289723, 0)],
                knots=[1.3179615541, 1.3179615541, 1.3179615541, 1.8868284832, 1.8868284832, 1.8868284832], degree=2, weights=[1, 0.9598207843, 1]))
            add(Edge.make_bspline(
                [(-31.7963289723, 0), (-17.2570551039, -15.6257643854), (0, -28.7906564504)],
                knots=[4.3963568239, 4.3963568239, 4.3963568239, 4.9652237531, 4.9652237531, 4.9652237531], degree=2, weights=[1, 0.9598207843, 1]))
            add(Edge.make_bspline(
                [(0, -28.7906564504), (17.2570551039, -15.6257643854), (31.7963289723, 0)],
                knots=[4.4595542076, 4.4595542076, 4.4595542076, 5.0284211368, 5.0284211368, 5.0284211368], degree=2, weights=[1, 0.9598207843, 1]))
        make_face()
        with BuildLine():
            add(Edge.make_bspline(
                [(51.5436352082, -25.291015897), (44.3072469413, -13.4458335537), (31.7963289723, 0)],
                knots=[0.7618457065, 0.7618457065, 0.7618457065, 1.2547641704, 1.2547641704, 1.2547641704], degree=2, weights=[1, 0.9697823463, 1]))
            add(Edge.make_bspline(
                [(0, -28.7906564504), (17.2570551039, -15.6257643854), (31.7963289723, 0)],
                knots=[4.4595542076, 4.4595542076, 4.4595542076, 5.0284211368, 5.0284211368, 5.0284211368], degree=2, weights=[1, 0.9598207843, 1]))
            add(Edge.make_bspline(
                [(0, -28.7906564504), (16.8493165476, -41.6444969454), (31.1596419842, -48.223008274)],
                knots=[4.9652237531, 4.9652237531, 4.9652237531, 5.5213396007, 5.5213396007, 5.5213396007], degree=2, weights=[1, 0.9615903293, 1]))
            ThreePointArc((31.1596419842, -48.223008274), (37.3770498705, -43.5813946376), (42.9118529763, -38.1438683109))
            ThreePointArc((42.9118529763, -38.1438683109), (47.6629705939, -32.0097336719), (51.5436352082, -25.291015897))
        make_face()
        with BuildLine():
            ThreePointArc((51.5436352082, 25.291015897), (47.6629701124, 32.0097343888), (42.9118518288, 38.1438696019))
            ThreePointArc((42.9118518288, 38.1438696019), (37.3770492149, 43.5813951999), (31.1596419842, 48.223008274))
            add(Edge.make_bspline(
                [(31.1596419842, 48.223008274), (16.8493165476, 41.6444969454), (0, 28.7906564504)],
                knots=[0.7618457065, 0.7618457065, 0.7618457065, 1.3179615541, 1.3179615541, 1.3179615541], degree=2, weights=[1, 0.9615903293, 1]))
            add(Edge.make_bspline(
                [(31.7963289723, 0), (17.2570551039, 15.6257643854), (0, 28.7906564504)],
                knots=[1.2547641704, 1.2547641704, 1.2547641704, 1.8236310995, 1.8236310995, 1.8236310995], degree=2, weights=[1, 0.9598207843, 1]))
            add(Edge.make_bspline(
                [(31.7963289723, 0), (44.3072469413, 13.4458335537), (51.5436352082, 25.291015897)],
                knots=[5.0284211368, 5.0284211368, 5.0284211368, 5.5213396007, 5.5213396007, 5.5213396007], degree=2, weights=[1, 0.9697823463, 1]))
        make_face()
        with BuildLine():
            add(Edge.make_bspline(
                [(-31.7963289723, 0), (-17.2570551039, -15.6257643854), (0, -28.7906564504)],
                knots=[4.3963568239, 4.3963568239, 4.3963568239, 4.9652237531, 4.9652237531, 4.9652237531], degree=2, weights=[1, 0.9598207843, 1]))
            add(Edge.make_bspline(
                [(-31.7963289723, 0), (-44.3072469413, -13.4458335537), (-51.5436352082, -25.291015897)],
                knots=[1.8868284832, 1.8868284832, 1.8868284832, 2.3797469471, 2.3797469471, 2.3797469471], degree=2, weights=[1, 0.9697823463, 1]))
            ThreePointArc((-51.5436352082, -25.291015897), (-47.6629701413, -32.0097343458), (-42.9118518976, -38.1438695245))
            ThreePointArc((-42.9118518976, -38.1438695245), (-37.3770492542, -43.5813951661), (-31.1596419842, -48.223008274))
            add(Edge.make_bspline(
                [(-31.1596419842, -48.223008274), (-16.8493165476, -41.6444969454), (0, -28.7906564504)],
                knots=[3.9034383601, 3.9034383601, 3.9034383601, 4.4595542076, 4.4595542076, 4.4595542076], degree=2, weights=[1, 0.9615903293, 1]))
        make_face()
    extrude(amount=F1_DEPTH)

    # F2 (on face) → F3 (cut)
    with BuildSketch(Plane.XY.offset(25.4)):
        with Locations((-57.15, 50.8)):
            Circle(F2_R)
        with Locations((-57.15, -50.8)):
            Circle(F2_R)
        with Locations((57.15, -50.8)):
            Circle(F2_R)
        with Locations((57.15, 50.8)):
            Circle(F2_R)
    extrude(amount=-F3_DEPTH, mode=Mode.SUBTRACT)

    # F4 (on face) → F5 (cut)
    with BuildSketch(Plane.XY.offset(25.4)):
        with BuildLine():
            ThreePointArc((-51.5436352082, 25.291015897), (-47.6629703853, 32.0097339825), (-42.9118524791, 38.1438688703))
            ThreePointArc((-42.9118524791, 38.1438688703), (-38.1001297285, 50.7296960956), (-42.8188262114, 63.3506955122))
            ThreePointArc((-42.8188262114, 63.3506955122), (-71.3881475209, 63.4561311297), (-67.9339324093, 35.0962010395))
            ThreePointArc((-67.9339324093, 35.0962010395), (-76.4641255753, 0), (-67.9339324093, -35.0962010395))
            ThreePointArc((-67.9339324093, -35.0962010395), (-71.3881475209, -63.4561311297), (-42.8188262114, -63.3506955122))
            ThreePointArc((-42.8188262114, -63.3506955122), (-38.1001297285, -50.7296960956), (-42.9118524791, -38.1438688703))
            ThreePointArc((-42.9118524791, -38.1438688703), (-47.6629703853, -32.0097339825), (-51.5436352082, -25.291015897))
            ThreePointArc((-51.5436352082, -25.291015897), (-57.4141255753, 0), (-51.5436352082, 25.291015897))
        make_face()
        with Locations((-57.15, -50.8)):
            Circle(F4_R, mode=Mode.SUBTRACT)
        with Locations((-57.15, 50.8)):
            Circle(F4_R, mode=Mode.SUBTRACT)
        with BuildLine():
            ThreePointArc((76.2, 50.8), (63.8542389324, 68.6313117952), (42.8188262114, 63.3506955122))
            ThreePointArc((42.8188262114, 63.3506955122), (38.1001297285, 50.7296960956), (42.9118524791, 38.1438688703))
            ThreePointArc((42.9118524791, 38.1438688703), (47.6629703853, 32.0097339825), (51.5436352082, 25.291015897))
            ThreePointArc((51.5436352082, 25.291015897), (57.4141255753, 0), (51.5436352082, -25.291015897))
            ThreePointArc((51.5436352082, -25.291015897), (47.6629703853, -32.0097339825), (42.9118524791, -38.1438688703))
            ThreePointArc((42.9118524791, -38.1438688703), (38.1001297285, -50.7296960956), (42.8188262114, -63.3506955122))
            ThreePointArc((42.8188262114, -63.3506955122), (63.854238955, -68.6313117867), (76.2, -50.7999999518))
            ThreePointArc((76.2, -50.7999999518), (74.0072893972, -41.9267652922), (67.9339324093, -35.0962010395))
            ThreePointArc((67.9339324093, -35.0962010395), (73.4862819613, -21.1312295786), (76.2, -6.35))
            Line((76.2, -6.35), (76.2, 6.35))
            ThreePointArc((76.2, 6.35), (73.4862819613, 21.1312295786), (67.9339324093, 35.0962010395))
            ThreePointArc((67.9339324093, 35.0962010395), (74.0072894084, 41.9267653135), (76.2, 50.8))
        make_face()
        with Locations((57.15, -50.8)):
            Circle(F4_R, mode=Mode.SUBTRACT)
        with Locations((57.15, 50.8)):
            Circle(F4_R, mode=Mode.SUBTRACT)
        with Locations((-57.15, 50.8)):
            Circle(F4_R)
        with Locations((-57.15, -50.8)):
            Circle(F4_R)
        with Locations((57.15, -50.8)):
            Circle(F4_R)
        with Locations((57.15, 50.8)):
            Circle(F4_R)
        with BuildLine():
            ThreePointArc((76.2, -6.35), (76.4641255753, 0), (76.2, 6.35))
            Line((76.2, 6.35), (76.2, -6.35))
        make_face()
    extrude(amount=-F5_DEPTH, mode=Mode.SUBTRACT)

    # F6 (on face) → F7 (cut)
    with BuildSketch(Plane.XY):
        with BuildLine():
            ThreePointArc((-51.5436352082, -25.291015897), (-57.4141255753, 0), (-51.5436352082, 25.291015897))
            ThreePointArc((-51.5436352082, 25.291015897), (-47.6629703853, 32.0097339825), (-42.9118524791, 38.1438688703))
            ThreePointArc((-42.9118524791, 38.1438688703), (-38.1001297285, 50.7296960956), (-42.8188262114, 63.3506955122))
            ThreePointArc((-42.8188262114, 63.3506955122), (-71.3881475209, 63.4561311297), (-67.9339324093, 35.0962010395))
            ThreePointArc((-67.9339324093, 35.0962010395), (-76.4641255753, 0), (-67.9339324093, -35.0962010395))
            ThreePointArc((-67.9339324093, -35.0962010395), (-71.3881475209, -63.4561311297), (-42.8188262114, -63.3506955122))
            ThreePointArc((-42.8188262114, -63.3506955122), (-38.1001297285, -50.7296960956), (-42.9118524791, -38.1438688703))
            ThreePointArc((-42.9118524791, -38.1438688703), (-47.6629703853, -32.0097339825), (-51.5436352082, -25.291015897))
        make_face()
        with BuildLine():
            ThreePointArc((42.8188262114, -63.3506955122), (71.3881475209, -63.4561311297), (67.9339324093, -35.0962010395))
            ThreePointArc((67.9339324093, -35.0962010395), (76.4641255753, 0), (67.9339324093, 35.0962010395))
            ThreePointArc((67.9339324093, 35.0962010395), (71.3881475209, 63.4561311297), (42.8188262114, 63.3506955122))
            ThreePointArc((42.8188262114, 63.3506955122), (38.1001297285, 50.7296960956), (42.9118524791, 38.1438688703))
            ThreePointArc((42.9118524791, 38.1438688703), (47.6629703853, 32.0097339825), (51.5436352082, 25.291015897))
            ThreePointArc((51.5436352082, 25.291015897), (57.4141255753, 0), (51.5436352082, -25.291015897))
            ThreePointArc((51.5436352082, -25.291015897), (47.6629703853, -32.0097339825), (42.9118524791, -38.1438688703))
            ThreePointArc((42.9118524791, -38.1438688703), (38.1001297285, -50.7296960956), (42.8188262114, -63.3506955122))
        make_face()
    extrude(amount=F7_DEPTH, mode=Mode.SUBTRACT)


solid = f1.part
